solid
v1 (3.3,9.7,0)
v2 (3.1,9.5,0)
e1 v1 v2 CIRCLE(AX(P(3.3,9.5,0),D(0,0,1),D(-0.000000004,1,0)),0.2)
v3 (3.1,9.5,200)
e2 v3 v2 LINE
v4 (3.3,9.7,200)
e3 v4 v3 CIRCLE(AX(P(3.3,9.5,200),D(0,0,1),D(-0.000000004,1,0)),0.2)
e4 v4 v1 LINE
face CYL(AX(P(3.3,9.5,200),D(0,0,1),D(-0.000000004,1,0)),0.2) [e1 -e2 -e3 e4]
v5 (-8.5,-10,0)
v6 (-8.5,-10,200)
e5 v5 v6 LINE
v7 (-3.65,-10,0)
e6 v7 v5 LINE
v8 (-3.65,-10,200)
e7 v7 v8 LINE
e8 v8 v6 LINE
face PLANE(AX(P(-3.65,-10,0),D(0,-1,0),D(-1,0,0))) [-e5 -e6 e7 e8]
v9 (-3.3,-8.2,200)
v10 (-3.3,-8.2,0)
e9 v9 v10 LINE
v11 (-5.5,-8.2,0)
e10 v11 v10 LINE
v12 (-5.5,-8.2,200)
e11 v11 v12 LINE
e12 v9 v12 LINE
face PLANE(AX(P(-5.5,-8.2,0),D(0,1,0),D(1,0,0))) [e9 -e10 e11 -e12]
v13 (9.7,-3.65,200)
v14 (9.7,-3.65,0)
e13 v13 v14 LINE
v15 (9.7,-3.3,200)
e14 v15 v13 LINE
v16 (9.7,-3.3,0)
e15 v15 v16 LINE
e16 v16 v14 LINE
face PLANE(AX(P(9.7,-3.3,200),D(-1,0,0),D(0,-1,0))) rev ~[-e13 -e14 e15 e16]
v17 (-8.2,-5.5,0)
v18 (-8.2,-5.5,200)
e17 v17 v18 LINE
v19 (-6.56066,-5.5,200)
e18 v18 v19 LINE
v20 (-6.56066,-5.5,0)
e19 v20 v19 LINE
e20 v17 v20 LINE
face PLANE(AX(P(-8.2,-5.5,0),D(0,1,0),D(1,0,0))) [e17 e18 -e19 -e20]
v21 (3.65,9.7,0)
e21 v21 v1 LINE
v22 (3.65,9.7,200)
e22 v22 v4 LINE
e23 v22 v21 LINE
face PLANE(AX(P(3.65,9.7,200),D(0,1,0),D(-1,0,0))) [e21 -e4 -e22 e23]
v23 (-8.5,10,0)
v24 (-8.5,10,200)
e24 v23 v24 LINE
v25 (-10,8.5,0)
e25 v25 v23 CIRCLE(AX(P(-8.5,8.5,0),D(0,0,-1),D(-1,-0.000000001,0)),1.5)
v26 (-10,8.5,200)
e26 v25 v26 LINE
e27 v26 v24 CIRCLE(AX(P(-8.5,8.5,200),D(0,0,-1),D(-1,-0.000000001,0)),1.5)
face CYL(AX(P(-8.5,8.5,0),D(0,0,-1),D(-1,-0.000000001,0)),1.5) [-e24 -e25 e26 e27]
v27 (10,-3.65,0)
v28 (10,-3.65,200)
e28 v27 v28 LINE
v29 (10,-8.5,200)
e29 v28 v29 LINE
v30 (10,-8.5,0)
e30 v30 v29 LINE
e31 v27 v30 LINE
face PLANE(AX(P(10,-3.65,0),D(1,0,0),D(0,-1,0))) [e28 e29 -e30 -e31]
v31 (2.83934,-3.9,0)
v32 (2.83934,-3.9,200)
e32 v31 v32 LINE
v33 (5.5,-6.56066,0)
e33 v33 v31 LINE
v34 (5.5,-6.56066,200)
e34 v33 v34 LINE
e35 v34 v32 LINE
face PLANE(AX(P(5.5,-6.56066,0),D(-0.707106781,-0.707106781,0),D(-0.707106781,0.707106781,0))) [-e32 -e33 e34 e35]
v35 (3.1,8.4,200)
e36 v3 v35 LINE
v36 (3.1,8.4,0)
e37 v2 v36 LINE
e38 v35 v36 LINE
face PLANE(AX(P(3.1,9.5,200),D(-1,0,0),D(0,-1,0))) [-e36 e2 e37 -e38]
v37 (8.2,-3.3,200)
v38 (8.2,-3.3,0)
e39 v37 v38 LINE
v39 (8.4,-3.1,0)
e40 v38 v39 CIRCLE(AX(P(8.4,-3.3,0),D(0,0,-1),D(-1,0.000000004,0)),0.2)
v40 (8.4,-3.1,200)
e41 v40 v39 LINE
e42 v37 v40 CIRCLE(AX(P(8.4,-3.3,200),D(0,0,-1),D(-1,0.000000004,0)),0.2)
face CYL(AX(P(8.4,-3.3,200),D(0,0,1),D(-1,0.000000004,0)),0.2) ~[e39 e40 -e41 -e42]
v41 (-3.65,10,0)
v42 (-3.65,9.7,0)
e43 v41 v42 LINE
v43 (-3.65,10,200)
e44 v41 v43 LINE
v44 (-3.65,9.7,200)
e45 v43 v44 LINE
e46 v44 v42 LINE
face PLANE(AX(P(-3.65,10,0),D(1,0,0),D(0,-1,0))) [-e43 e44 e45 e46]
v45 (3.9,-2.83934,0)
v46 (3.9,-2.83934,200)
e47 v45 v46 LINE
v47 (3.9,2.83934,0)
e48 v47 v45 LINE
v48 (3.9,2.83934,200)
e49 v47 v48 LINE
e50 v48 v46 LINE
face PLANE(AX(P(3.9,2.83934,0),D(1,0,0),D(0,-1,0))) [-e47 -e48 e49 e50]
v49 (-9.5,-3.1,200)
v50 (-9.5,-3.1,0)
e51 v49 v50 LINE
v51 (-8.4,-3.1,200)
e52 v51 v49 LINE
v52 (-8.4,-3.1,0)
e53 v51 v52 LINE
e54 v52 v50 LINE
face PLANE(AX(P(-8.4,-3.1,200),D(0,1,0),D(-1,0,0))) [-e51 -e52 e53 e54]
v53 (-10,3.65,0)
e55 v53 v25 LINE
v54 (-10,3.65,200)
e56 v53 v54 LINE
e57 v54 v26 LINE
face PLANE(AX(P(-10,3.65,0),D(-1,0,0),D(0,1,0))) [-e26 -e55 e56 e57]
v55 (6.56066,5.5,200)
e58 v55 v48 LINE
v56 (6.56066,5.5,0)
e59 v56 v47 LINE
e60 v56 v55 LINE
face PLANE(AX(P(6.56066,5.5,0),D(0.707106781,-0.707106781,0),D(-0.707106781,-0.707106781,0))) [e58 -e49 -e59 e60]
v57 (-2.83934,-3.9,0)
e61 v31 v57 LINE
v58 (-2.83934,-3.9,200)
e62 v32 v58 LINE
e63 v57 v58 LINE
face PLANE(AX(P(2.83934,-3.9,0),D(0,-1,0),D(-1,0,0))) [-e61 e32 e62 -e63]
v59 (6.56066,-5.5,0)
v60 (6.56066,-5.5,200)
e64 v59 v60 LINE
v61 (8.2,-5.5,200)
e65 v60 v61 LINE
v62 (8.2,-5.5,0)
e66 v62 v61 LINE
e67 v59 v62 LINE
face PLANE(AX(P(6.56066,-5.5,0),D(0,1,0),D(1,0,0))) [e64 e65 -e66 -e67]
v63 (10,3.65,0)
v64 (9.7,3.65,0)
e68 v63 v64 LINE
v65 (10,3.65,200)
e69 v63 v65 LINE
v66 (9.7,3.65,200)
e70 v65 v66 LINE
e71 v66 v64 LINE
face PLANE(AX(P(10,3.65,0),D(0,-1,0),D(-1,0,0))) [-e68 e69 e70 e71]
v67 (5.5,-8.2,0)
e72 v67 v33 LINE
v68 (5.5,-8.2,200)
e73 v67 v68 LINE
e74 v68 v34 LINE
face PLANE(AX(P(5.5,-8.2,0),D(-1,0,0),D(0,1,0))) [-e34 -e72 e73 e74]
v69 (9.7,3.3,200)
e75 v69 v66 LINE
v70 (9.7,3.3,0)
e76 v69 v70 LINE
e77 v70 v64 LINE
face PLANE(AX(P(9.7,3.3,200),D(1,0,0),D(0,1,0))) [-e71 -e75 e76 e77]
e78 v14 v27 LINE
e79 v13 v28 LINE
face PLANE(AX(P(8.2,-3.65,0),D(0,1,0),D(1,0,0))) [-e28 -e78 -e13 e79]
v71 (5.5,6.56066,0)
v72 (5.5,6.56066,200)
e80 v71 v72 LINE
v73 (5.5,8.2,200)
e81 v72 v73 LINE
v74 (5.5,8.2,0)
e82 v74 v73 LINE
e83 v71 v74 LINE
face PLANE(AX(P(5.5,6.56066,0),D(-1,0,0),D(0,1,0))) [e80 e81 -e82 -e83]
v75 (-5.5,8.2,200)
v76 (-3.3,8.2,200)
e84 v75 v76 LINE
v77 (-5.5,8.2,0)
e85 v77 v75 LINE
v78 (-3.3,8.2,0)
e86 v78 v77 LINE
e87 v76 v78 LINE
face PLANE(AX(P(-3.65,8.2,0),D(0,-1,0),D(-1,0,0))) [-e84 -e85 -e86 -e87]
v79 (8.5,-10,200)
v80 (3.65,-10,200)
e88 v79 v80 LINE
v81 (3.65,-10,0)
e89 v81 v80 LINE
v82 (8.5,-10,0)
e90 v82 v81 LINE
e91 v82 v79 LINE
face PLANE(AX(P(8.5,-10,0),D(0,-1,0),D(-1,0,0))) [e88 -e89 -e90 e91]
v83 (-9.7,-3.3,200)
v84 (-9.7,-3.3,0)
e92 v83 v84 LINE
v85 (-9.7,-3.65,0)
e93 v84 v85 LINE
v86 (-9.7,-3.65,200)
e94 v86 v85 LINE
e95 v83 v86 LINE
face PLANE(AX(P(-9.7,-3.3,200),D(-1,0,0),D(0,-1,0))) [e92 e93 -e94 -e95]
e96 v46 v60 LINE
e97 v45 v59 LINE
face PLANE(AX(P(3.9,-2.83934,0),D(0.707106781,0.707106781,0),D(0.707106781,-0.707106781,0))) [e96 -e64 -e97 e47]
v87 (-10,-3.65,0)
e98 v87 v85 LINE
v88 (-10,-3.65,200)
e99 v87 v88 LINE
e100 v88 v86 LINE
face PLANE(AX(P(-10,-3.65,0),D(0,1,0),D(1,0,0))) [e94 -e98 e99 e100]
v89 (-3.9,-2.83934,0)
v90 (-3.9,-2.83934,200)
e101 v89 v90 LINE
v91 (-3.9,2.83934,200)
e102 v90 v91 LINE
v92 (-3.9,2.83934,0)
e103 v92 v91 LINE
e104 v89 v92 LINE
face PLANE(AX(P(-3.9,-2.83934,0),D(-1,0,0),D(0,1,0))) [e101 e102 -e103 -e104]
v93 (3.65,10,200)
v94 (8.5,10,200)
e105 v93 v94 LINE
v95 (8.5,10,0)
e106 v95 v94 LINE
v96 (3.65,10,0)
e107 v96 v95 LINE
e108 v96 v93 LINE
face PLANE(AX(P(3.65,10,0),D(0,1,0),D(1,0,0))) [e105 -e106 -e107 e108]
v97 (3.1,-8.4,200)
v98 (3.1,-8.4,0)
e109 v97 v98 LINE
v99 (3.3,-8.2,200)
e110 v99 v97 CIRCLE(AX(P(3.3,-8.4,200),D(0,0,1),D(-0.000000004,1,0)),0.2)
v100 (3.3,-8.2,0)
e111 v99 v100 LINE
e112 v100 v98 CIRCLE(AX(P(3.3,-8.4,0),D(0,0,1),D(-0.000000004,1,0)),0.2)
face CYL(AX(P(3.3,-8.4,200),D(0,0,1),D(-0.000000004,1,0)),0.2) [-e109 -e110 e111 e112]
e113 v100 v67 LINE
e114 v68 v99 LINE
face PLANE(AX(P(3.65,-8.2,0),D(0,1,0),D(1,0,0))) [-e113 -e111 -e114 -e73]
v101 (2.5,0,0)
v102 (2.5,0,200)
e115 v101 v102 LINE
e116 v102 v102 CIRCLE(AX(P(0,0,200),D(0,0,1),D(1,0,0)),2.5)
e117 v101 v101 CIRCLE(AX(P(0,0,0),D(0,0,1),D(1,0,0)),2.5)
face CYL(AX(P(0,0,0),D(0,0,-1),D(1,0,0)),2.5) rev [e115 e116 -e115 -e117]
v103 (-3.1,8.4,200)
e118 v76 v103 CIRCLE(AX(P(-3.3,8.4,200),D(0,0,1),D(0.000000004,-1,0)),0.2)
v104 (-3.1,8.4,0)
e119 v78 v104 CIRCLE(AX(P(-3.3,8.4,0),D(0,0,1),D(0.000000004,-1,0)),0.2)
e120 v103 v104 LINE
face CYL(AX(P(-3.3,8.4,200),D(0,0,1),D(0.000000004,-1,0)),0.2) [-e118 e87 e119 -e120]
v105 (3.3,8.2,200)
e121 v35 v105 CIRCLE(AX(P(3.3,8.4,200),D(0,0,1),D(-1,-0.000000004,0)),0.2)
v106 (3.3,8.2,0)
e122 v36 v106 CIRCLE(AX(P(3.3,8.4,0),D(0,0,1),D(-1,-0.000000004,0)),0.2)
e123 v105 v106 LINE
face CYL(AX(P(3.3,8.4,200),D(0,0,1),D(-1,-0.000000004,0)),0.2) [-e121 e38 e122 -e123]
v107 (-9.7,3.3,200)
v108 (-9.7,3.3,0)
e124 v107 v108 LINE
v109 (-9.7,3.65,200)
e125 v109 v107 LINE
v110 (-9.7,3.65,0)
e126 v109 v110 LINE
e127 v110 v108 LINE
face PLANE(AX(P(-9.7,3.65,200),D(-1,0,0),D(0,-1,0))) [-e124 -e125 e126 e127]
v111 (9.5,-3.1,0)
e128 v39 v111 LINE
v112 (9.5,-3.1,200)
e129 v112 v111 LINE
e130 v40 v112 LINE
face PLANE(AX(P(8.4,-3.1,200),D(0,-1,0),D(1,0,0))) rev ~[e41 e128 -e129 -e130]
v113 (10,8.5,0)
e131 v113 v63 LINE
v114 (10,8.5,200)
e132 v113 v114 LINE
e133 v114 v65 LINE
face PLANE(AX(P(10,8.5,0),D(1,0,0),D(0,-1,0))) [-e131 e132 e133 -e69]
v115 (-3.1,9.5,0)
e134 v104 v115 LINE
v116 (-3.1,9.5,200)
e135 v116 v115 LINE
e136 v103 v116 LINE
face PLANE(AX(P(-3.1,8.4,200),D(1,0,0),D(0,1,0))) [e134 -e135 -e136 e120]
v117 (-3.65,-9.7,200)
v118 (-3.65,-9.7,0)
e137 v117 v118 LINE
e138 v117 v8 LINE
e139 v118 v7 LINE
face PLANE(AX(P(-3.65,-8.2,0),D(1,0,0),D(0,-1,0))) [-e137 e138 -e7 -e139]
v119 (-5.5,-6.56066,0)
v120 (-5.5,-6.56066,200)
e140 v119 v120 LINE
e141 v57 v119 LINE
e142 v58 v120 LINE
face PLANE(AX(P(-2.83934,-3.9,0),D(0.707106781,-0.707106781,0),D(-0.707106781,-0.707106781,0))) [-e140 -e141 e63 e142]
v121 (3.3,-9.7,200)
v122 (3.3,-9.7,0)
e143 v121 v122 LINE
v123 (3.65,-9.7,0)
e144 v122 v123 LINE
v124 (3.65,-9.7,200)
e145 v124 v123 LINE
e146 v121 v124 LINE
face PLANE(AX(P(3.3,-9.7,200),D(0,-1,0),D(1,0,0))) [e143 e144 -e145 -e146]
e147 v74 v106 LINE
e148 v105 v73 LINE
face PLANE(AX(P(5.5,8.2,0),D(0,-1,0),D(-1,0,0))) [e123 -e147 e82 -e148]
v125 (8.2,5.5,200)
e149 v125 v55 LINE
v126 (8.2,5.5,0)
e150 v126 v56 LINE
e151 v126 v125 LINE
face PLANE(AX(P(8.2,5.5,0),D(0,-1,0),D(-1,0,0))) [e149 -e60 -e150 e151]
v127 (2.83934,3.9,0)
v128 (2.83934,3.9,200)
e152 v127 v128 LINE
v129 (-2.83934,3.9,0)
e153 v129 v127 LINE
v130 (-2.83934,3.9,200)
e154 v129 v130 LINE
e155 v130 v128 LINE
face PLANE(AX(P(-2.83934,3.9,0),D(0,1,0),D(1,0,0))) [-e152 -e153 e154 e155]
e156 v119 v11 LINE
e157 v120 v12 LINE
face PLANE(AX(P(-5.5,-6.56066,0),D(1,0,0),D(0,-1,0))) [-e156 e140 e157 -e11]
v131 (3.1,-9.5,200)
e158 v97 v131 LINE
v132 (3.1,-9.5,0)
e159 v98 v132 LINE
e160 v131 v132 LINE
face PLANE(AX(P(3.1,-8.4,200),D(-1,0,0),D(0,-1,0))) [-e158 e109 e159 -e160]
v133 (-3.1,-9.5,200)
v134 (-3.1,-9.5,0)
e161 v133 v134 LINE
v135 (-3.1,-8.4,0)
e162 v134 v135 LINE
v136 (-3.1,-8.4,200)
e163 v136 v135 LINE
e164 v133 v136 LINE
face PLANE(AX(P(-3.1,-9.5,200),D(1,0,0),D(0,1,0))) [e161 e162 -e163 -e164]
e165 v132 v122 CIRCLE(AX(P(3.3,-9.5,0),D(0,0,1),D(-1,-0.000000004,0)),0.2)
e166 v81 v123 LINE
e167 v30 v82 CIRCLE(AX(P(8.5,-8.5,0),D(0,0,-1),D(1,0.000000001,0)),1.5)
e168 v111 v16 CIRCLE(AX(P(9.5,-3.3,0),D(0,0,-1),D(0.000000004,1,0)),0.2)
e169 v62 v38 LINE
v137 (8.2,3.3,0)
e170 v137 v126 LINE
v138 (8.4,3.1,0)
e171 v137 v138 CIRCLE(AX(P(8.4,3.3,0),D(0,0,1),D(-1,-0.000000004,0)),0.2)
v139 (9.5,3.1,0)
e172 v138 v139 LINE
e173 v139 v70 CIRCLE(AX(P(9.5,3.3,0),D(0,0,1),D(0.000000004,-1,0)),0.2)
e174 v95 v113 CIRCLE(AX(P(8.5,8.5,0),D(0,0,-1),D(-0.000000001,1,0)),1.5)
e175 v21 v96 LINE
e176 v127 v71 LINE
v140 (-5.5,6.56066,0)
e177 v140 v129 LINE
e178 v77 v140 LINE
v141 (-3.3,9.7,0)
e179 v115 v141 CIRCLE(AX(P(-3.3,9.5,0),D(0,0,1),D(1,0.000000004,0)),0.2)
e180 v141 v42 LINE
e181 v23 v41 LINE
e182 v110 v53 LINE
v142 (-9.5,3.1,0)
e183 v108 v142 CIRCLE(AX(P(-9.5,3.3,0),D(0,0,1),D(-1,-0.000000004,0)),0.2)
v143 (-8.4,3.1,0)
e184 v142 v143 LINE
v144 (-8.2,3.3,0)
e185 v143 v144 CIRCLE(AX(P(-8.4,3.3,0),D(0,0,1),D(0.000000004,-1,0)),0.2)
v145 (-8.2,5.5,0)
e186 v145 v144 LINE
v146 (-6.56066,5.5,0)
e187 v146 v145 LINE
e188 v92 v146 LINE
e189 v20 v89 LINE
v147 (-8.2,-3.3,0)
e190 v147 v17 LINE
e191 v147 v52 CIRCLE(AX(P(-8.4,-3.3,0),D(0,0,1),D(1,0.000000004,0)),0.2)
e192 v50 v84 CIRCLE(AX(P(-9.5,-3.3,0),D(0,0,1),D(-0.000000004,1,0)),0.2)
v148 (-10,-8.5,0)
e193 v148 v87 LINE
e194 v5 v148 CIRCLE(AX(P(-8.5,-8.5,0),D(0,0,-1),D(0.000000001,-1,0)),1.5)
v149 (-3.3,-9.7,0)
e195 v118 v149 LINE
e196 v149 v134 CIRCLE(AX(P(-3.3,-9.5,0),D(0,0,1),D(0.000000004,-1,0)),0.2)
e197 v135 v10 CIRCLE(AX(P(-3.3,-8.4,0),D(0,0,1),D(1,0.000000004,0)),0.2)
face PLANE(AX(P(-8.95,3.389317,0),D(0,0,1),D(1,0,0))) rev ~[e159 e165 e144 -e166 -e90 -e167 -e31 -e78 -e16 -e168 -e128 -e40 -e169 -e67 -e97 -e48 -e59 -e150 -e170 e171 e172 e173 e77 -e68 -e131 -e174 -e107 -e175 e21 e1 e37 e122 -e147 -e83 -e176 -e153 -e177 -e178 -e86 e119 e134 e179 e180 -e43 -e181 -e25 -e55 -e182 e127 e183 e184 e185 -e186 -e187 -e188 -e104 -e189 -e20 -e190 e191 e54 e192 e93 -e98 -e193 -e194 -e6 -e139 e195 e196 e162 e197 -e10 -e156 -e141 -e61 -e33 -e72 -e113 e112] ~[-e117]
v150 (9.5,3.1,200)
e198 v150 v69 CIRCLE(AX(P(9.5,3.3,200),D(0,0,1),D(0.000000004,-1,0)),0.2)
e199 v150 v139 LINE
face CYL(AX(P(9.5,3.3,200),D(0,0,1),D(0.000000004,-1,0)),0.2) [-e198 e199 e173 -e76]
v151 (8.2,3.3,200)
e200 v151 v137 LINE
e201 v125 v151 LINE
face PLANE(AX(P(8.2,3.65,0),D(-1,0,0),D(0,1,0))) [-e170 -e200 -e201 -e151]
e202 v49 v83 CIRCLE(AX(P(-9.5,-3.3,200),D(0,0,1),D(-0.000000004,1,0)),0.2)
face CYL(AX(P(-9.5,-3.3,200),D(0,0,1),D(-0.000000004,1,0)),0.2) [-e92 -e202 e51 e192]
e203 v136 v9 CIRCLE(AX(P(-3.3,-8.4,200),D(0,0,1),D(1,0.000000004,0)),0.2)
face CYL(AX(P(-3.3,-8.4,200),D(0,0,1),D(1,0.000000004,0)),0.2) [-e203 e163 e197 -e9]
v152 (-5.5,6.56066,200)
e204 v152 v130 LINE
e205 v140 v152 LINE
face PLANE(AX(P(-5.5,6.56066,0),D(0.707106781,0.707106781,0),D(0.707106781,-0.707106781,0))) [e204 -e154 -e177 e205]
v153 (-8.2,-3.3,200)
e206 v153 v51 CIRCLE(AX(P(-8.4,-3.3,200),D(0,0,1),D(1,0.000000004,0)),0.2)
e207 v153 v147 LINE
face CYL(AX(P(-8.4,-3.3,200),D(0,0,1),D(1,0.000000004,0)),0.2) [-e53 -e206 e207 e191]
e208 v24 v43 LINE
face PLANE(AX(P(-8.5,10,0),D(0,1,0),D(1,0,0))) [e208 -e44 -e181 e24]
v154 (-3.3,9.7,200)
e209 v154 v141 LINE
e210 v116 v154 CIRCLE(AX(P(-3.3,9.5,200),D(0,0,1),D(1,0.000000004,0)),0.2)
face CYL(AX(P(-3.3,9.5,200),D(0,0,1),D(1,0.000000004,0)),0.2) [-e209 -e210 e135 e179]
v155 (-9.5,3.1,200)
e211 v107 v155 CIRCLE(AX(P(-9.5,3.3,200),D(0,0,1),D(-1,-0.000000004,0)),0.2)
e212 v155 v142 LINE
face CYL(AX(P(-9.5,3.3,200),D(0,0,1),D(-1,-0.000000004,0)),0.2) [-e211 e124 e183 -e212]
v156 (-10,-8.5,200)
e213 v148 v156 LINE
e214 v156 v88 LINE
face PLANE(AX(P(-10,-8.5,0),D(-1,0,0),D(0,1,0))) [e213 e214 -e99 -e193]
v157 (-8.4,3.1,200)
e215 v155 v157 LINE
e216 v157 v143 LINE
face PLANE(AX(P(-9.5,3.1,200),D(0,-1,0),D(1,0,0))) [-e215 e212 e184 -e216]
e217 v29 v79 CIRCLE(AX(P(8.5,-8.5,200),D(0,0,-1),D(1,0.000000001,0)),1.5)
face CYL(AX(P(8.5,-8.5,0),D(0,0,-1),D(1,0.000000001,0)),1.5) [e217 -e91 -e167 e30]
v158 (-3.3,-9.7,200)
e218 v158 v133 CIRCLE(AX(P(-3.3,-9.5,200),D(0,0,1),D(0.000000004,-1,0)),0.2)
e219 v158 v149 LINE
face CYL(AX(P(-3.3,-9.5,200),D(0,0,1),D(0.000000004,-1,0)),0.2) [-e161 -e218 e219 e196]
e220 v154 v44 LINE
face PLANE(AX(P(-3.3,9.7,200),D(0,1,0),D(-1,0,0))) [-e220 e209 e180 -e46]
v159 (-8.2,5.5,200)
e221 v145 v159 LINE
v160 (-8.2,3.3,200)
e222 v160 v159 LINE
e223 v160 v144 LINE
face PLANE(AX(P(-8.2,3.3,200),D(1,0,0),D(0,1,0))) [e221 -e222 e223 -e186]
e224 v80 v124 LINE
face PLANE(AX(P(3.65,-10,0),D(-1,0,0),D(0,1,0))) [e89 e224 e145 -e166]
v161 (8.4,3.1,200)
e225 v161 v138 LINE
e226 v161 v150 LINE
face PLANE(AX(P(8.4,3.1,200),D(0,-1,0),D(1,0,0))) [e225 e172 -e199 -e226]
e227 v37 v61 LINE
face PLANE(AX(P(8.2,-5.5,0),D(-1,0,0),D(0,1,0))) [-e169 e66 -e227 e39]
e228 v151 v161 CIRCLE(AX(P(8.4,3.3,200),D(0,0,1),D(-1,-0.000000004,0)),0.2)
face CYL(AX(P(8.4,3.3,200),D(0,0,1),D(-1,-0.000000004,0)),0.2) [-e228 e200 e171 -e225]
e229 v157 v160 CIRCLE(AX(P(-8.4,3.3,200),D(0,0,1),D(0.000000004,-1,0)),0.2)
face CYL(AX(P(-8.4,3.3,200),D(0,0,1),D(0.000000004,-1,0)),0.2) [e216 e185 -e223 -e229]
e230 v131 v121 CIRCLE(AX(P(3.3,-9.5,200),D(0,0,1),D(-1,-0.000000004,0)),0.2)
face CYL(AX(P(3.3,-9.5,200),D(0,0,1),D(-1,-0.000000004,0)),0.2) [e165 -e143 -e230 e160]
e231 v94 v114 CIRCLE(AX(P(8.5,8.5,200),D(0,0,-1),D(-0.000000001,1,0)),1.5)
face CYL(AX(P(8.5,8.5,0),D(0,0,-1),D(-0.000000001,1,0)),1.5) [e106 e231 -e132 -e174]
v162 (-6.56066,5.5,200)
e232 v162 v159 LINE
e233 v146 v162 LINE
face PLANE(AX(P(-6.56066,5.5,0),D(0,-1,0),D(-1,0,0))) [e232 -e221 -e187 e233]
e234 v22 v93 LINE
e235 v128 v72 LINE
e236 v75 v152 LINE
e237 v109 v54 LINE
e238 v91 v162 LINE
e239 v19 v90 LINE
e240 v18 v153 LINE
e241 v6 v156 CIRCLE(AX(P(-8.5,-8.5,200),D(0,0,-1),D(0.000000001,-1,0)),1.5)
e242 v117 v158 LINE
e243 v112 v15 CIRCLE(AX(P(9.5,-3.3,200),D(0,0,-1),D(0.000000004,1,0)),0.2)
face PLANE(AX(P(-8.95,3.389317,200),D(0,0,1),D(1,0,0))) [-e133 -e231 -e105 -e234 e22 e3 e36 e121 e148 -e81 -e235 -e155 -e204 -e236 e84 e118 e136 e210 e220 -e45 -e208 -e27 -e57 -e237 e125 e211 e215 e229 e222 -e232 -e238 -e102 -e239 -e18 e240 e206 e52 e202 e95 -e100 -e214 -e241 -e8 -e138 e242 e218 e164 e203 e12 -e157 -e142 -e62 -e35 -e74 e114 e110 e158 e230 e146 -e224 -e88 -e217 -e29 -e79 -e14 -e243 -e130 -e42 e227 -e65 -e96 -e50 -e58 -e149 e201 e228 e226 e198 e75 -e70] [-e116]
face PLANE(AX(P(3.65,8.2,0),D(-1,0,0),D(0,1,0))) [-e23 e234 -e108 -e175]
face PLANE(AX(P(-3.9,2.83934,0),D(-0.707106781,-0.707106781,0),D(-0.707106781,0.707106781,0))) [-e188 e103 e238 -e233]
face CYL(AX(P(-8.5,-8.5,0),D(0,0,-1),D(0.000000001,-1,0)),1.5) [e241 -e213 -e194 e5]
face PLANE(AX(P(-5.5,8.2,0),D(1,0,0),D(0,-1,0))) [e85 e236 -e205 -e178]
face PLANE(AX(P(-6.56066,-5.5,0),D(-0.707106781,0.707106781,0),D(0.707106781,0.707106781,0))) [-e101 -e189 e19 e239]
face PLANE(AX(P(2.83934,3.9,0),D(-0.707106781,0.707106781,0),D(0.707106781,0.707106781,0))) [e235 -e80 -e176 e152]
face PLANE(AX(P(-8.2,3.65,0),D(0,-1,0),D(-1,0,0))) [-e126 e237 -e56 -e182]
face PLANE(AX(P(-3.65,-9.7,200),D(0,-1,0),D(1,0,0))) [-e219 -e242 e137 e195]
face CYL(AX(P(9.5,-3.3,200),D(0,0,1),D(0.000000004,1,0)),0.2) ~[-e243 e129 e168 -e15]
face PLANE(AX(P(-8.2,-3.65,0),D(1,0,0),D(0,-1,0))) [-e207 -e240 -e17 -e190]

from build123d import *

# Parameters (mm, degrees)
SKETCH_1_R      = 2.5
EXTRUDE_2_DEPTH = 200
EXTRUDE_3_DEPTH = 200


with BuildPart() as part:
    # 草图1 → 凸台-拉伸2 (new body)
    with BuildSketch(Plane.XY):
        with BuildLine():
            Line((3.65, 10), (8.5, 10))
            ThreePointArc((8.5, 10), (9.560660172, 9.560660172), (10, 8.5))
            Line((10, 8.5), (10, 3.65))
            Line((10, 3.65), (8.2, 3.65))
            Line((8.2, 3.65), (8.2, 5.5))
            Line((8.2, 5.5), (6.560660172, 5.5))
            Line((6.560660172, 5.5), (3.9, 2.839339828))
            Line((3.9, 2.839339828), (3.9, -2.839339828))
            Line((3.9, -2.839339828), (6.560660172, -5.5))
            Line((6.560660172, -5.5), (8.2, -5.5))
            Line((8.2, -5.5), (8.2, -3.65))
            Line((8.2, -3.65), (10, -3.65))
            Line((10, -3.65), (10, -8.5))
            ThreePointArc((10, -8.5), (9.560660172, -9.560660172), (8.5, -10))
            Line((8.5, -10), (3.65, -10))
            Line((3.65, -10), (3.65, -8.2))
            Line((3.65, -8.2), (5.5, -8.2))
            Line((5.5, -8.2), (5.5, -6.560660172))
            Line((5.5, -6.560660172), (2.839339828, -3.9))
            Line((2.839339828, -3.9), (-2.839339828, -3.9))
            Line((-2.839339828, -3.9), (-5.5, -6.560660172))
            Line((-5.5, -6.560660172), (-5.5, -8.2))
            Line((-5.5, -8.2), (-3.65, -8.2))
            Line((-3.65, -8.2), (-3.65, -10))
            Line((-3.65, -10), (-8.5, -10))
            ThreePointArc((-8.5, -10), (-9.560660172, -9.560660172), (-10, -8.5))
            Line((-10, -8.5), (-10, -3.65))
            Line((-10, -3.65), (-8.2, -3.65))
            Line((-8.2, -3.65), (-8.2, -5.5))
            Line((-8.2, -5.5), (-6.560660172, -5.5))
            Line((-6.560660172, -5.5), (-3.9, -2.839339828))
            Line((-3.9, -2.839339828), (-3.9, 2.839339828))
            Line((-3.9, 2.839339828), (-6.560660172, 5.5))
            Line((-6.560660172, 5.5), (-8.2, 5.5))
            Line((-8.2, 5.5), (-8.2, 3.65))
            Line((-8.2, 3.65), (-10, 3.65))
            Line((-10, 3.65), (-10, 8.5))
            ThreePointArc((-10, 8.5), (-9.560660172, 9.560660172), (-8.5, 10))
            Line((-8.5, 10), (-3.65, 10))
            Line((-3.65, 10), (-3.65, 8.2))
            Line((-3.65, 8.2), (-5.5, 8.2))
            Line((-5.5, 8.2), (-5.5, 6.560660172))
            Line((-5.5, 6.560660172), (-2.839339828, 3.9))
            Line((-2.839339828, 3.9), (2.839339828, 3.9))
            Line((2.839339828, 3.9), (5.5, 6.560660172))
            Line((5.5, 6.560660172), (5.5, 8.2))
            Line((5.5, 8.2), (3.65, 8.2))
            Line((3.65, 8.2), (3.65, 10))
        make_face()
        Circle(SKETCH_1_R, mode=Mode.SUBTRACT)
    extrude(amount=EXTRUDE_2_DEPTH)

    # 草图3 → 凸台-拉伸3 (add)
    with BuildSketch(Plane.XY.offset(200)):
        with BuildLine():
            Line((-8.2, 3.65), (-9.7, 3.65))
            Line((-9.7, 3.65), (-9.7, 3.3))
            ThreePointArc((-9.7, 3.3), (-9.641421356, 3.158578644), (-9.5, 3.1))
            Line((-9.5, 3.1), (-8.4, 3.1))
            ThreePointArc((-8.4, 3.1), (-8.258578644, 3.158578644), (-8.2, 3.3))
            Line((-8.2, 3.3), (-8.2, 3.65))
        make_face()
        with BuildLine():
            Line((-3.65, 9.7), (-3.65, 8.2))
            Line((-3.65, 8.2), (-3.3, 8.2))
            ThreePointArc((-3.3, 8.2), (-3.158578644, 8.258578644), (-3.1, 8.4))
            Line((-3.1, 8.4), (-3.1, 9.5))
            ThreePointArc((-3.1, 9.5), (-3.158578644, 9.641421356), (-3.3, 9.7))
            Line((-3.3, 9.7), (-3.65, 9.7))
        make_face()
        with BuildLine():
            Line((3.65, 8.2), (3.65, 9.7))
            Line((3.65, 9.7), (3.3, 9.7))
            ThreePointArc((3.3, 9.7), (3.158578644, 9.641421356), (3.1, 9.5))
            Line((3.1, 9.5), (3.1, 8.4))
            ThreePointArc((3.1, 8.4), (3.158578644, 8.258578644), (3.3, 8.2))
            Line((3.3, 8.2), (3.65, 8.2))
        make_face()
        with BuildLine():
            Line((9.7, 3.65), (8.2, 3.65))
            Line((8.2, 3.65), (8.2, 3.3))
            ThreePointArc((8.2, 3.3), (8.258578644, 3.158578644), (8.4, 3.1))
            Line((8.4, 3.1), (9.5, 3.1))
            ThreePointArc((9.5, 3.1), (9.641421356, 3.158578644), (9.7, 3.3))
            Line((9.7, 3.3), (9.7, 3.65))
        make_face()
        with BuildLine():
            Line((3.65, -9.7), (3.65, -8.2))
            Line((3.65, -8.2), (3.3, -8.2))
            ThreePointArc((3.3, -8.2), (3.158578644, -8.258578644), (3.1, -8.4))
            Line((3.1, -8.4), (3.1, -9.5))
            ThreePointArc((3.1, -9.5), (3.158578644, -9.641421356), (3.3, -9.7))
            Line((3.3, -9.7), (3.65, -9.7))
        make_face()
        with BuildLine():
            Line((-3.65, -8.2), (-3.65, -9.7))
            Line((-3.65, -9.7), (-3.3, -9.7))
            ThreePointArc((-3.3, -9.7), (-3.158578644, -9.641421356), (-3.1, -9.5))
            Line((-3.1, -9.5), (-3.1, -8.4))
            ThreePointArc((-3.1, -8.4), (-3.158578644, -8.258578644), (-3.3, -8.2))
            Line((-3.3, -8.2), (-3.65, -8.2))
        make_face()
        with BuildLine():
            Line((8.2, -3.65), (8.2, -3.3))
            ThreePointArc((8.2, -3.3), (8.258578644, -3.158578644), (8.4, -3.1))
            Line((8.4, -3.1), (9.5, -3.1))
            ThreePointArc((9.5, -3.1), (9.641421356, -3.158578644), (9.7, -3.3))
            Line((9.7, -3.3), (9.7, -3.65))
            Line((9.7, -3.65), (8.2, -3.65))
        make_face()
        with BuildLine():
            Line((-8.2, -3.65), (-8.2, -3.3))
            ThreePointArc((-8.2, -3.3), (-8.258578644, -3.158578644), (-8.4, -3.1))
            Line((-8.4, -3.1), (-9.5, -3.1))
            ThreePointArc((-9.5, -3.1), (-9.641421356, -3.158578644), (-9.7, -3.3))
            Line((-9.7, -3.3), (-9.7, -3.65))
            Line((-9.7, -3.65), (-8.2, -3.65))
        make_face()
    extrude(amount=-EXTRUDE_3_DEPTH)


solid = part.part
